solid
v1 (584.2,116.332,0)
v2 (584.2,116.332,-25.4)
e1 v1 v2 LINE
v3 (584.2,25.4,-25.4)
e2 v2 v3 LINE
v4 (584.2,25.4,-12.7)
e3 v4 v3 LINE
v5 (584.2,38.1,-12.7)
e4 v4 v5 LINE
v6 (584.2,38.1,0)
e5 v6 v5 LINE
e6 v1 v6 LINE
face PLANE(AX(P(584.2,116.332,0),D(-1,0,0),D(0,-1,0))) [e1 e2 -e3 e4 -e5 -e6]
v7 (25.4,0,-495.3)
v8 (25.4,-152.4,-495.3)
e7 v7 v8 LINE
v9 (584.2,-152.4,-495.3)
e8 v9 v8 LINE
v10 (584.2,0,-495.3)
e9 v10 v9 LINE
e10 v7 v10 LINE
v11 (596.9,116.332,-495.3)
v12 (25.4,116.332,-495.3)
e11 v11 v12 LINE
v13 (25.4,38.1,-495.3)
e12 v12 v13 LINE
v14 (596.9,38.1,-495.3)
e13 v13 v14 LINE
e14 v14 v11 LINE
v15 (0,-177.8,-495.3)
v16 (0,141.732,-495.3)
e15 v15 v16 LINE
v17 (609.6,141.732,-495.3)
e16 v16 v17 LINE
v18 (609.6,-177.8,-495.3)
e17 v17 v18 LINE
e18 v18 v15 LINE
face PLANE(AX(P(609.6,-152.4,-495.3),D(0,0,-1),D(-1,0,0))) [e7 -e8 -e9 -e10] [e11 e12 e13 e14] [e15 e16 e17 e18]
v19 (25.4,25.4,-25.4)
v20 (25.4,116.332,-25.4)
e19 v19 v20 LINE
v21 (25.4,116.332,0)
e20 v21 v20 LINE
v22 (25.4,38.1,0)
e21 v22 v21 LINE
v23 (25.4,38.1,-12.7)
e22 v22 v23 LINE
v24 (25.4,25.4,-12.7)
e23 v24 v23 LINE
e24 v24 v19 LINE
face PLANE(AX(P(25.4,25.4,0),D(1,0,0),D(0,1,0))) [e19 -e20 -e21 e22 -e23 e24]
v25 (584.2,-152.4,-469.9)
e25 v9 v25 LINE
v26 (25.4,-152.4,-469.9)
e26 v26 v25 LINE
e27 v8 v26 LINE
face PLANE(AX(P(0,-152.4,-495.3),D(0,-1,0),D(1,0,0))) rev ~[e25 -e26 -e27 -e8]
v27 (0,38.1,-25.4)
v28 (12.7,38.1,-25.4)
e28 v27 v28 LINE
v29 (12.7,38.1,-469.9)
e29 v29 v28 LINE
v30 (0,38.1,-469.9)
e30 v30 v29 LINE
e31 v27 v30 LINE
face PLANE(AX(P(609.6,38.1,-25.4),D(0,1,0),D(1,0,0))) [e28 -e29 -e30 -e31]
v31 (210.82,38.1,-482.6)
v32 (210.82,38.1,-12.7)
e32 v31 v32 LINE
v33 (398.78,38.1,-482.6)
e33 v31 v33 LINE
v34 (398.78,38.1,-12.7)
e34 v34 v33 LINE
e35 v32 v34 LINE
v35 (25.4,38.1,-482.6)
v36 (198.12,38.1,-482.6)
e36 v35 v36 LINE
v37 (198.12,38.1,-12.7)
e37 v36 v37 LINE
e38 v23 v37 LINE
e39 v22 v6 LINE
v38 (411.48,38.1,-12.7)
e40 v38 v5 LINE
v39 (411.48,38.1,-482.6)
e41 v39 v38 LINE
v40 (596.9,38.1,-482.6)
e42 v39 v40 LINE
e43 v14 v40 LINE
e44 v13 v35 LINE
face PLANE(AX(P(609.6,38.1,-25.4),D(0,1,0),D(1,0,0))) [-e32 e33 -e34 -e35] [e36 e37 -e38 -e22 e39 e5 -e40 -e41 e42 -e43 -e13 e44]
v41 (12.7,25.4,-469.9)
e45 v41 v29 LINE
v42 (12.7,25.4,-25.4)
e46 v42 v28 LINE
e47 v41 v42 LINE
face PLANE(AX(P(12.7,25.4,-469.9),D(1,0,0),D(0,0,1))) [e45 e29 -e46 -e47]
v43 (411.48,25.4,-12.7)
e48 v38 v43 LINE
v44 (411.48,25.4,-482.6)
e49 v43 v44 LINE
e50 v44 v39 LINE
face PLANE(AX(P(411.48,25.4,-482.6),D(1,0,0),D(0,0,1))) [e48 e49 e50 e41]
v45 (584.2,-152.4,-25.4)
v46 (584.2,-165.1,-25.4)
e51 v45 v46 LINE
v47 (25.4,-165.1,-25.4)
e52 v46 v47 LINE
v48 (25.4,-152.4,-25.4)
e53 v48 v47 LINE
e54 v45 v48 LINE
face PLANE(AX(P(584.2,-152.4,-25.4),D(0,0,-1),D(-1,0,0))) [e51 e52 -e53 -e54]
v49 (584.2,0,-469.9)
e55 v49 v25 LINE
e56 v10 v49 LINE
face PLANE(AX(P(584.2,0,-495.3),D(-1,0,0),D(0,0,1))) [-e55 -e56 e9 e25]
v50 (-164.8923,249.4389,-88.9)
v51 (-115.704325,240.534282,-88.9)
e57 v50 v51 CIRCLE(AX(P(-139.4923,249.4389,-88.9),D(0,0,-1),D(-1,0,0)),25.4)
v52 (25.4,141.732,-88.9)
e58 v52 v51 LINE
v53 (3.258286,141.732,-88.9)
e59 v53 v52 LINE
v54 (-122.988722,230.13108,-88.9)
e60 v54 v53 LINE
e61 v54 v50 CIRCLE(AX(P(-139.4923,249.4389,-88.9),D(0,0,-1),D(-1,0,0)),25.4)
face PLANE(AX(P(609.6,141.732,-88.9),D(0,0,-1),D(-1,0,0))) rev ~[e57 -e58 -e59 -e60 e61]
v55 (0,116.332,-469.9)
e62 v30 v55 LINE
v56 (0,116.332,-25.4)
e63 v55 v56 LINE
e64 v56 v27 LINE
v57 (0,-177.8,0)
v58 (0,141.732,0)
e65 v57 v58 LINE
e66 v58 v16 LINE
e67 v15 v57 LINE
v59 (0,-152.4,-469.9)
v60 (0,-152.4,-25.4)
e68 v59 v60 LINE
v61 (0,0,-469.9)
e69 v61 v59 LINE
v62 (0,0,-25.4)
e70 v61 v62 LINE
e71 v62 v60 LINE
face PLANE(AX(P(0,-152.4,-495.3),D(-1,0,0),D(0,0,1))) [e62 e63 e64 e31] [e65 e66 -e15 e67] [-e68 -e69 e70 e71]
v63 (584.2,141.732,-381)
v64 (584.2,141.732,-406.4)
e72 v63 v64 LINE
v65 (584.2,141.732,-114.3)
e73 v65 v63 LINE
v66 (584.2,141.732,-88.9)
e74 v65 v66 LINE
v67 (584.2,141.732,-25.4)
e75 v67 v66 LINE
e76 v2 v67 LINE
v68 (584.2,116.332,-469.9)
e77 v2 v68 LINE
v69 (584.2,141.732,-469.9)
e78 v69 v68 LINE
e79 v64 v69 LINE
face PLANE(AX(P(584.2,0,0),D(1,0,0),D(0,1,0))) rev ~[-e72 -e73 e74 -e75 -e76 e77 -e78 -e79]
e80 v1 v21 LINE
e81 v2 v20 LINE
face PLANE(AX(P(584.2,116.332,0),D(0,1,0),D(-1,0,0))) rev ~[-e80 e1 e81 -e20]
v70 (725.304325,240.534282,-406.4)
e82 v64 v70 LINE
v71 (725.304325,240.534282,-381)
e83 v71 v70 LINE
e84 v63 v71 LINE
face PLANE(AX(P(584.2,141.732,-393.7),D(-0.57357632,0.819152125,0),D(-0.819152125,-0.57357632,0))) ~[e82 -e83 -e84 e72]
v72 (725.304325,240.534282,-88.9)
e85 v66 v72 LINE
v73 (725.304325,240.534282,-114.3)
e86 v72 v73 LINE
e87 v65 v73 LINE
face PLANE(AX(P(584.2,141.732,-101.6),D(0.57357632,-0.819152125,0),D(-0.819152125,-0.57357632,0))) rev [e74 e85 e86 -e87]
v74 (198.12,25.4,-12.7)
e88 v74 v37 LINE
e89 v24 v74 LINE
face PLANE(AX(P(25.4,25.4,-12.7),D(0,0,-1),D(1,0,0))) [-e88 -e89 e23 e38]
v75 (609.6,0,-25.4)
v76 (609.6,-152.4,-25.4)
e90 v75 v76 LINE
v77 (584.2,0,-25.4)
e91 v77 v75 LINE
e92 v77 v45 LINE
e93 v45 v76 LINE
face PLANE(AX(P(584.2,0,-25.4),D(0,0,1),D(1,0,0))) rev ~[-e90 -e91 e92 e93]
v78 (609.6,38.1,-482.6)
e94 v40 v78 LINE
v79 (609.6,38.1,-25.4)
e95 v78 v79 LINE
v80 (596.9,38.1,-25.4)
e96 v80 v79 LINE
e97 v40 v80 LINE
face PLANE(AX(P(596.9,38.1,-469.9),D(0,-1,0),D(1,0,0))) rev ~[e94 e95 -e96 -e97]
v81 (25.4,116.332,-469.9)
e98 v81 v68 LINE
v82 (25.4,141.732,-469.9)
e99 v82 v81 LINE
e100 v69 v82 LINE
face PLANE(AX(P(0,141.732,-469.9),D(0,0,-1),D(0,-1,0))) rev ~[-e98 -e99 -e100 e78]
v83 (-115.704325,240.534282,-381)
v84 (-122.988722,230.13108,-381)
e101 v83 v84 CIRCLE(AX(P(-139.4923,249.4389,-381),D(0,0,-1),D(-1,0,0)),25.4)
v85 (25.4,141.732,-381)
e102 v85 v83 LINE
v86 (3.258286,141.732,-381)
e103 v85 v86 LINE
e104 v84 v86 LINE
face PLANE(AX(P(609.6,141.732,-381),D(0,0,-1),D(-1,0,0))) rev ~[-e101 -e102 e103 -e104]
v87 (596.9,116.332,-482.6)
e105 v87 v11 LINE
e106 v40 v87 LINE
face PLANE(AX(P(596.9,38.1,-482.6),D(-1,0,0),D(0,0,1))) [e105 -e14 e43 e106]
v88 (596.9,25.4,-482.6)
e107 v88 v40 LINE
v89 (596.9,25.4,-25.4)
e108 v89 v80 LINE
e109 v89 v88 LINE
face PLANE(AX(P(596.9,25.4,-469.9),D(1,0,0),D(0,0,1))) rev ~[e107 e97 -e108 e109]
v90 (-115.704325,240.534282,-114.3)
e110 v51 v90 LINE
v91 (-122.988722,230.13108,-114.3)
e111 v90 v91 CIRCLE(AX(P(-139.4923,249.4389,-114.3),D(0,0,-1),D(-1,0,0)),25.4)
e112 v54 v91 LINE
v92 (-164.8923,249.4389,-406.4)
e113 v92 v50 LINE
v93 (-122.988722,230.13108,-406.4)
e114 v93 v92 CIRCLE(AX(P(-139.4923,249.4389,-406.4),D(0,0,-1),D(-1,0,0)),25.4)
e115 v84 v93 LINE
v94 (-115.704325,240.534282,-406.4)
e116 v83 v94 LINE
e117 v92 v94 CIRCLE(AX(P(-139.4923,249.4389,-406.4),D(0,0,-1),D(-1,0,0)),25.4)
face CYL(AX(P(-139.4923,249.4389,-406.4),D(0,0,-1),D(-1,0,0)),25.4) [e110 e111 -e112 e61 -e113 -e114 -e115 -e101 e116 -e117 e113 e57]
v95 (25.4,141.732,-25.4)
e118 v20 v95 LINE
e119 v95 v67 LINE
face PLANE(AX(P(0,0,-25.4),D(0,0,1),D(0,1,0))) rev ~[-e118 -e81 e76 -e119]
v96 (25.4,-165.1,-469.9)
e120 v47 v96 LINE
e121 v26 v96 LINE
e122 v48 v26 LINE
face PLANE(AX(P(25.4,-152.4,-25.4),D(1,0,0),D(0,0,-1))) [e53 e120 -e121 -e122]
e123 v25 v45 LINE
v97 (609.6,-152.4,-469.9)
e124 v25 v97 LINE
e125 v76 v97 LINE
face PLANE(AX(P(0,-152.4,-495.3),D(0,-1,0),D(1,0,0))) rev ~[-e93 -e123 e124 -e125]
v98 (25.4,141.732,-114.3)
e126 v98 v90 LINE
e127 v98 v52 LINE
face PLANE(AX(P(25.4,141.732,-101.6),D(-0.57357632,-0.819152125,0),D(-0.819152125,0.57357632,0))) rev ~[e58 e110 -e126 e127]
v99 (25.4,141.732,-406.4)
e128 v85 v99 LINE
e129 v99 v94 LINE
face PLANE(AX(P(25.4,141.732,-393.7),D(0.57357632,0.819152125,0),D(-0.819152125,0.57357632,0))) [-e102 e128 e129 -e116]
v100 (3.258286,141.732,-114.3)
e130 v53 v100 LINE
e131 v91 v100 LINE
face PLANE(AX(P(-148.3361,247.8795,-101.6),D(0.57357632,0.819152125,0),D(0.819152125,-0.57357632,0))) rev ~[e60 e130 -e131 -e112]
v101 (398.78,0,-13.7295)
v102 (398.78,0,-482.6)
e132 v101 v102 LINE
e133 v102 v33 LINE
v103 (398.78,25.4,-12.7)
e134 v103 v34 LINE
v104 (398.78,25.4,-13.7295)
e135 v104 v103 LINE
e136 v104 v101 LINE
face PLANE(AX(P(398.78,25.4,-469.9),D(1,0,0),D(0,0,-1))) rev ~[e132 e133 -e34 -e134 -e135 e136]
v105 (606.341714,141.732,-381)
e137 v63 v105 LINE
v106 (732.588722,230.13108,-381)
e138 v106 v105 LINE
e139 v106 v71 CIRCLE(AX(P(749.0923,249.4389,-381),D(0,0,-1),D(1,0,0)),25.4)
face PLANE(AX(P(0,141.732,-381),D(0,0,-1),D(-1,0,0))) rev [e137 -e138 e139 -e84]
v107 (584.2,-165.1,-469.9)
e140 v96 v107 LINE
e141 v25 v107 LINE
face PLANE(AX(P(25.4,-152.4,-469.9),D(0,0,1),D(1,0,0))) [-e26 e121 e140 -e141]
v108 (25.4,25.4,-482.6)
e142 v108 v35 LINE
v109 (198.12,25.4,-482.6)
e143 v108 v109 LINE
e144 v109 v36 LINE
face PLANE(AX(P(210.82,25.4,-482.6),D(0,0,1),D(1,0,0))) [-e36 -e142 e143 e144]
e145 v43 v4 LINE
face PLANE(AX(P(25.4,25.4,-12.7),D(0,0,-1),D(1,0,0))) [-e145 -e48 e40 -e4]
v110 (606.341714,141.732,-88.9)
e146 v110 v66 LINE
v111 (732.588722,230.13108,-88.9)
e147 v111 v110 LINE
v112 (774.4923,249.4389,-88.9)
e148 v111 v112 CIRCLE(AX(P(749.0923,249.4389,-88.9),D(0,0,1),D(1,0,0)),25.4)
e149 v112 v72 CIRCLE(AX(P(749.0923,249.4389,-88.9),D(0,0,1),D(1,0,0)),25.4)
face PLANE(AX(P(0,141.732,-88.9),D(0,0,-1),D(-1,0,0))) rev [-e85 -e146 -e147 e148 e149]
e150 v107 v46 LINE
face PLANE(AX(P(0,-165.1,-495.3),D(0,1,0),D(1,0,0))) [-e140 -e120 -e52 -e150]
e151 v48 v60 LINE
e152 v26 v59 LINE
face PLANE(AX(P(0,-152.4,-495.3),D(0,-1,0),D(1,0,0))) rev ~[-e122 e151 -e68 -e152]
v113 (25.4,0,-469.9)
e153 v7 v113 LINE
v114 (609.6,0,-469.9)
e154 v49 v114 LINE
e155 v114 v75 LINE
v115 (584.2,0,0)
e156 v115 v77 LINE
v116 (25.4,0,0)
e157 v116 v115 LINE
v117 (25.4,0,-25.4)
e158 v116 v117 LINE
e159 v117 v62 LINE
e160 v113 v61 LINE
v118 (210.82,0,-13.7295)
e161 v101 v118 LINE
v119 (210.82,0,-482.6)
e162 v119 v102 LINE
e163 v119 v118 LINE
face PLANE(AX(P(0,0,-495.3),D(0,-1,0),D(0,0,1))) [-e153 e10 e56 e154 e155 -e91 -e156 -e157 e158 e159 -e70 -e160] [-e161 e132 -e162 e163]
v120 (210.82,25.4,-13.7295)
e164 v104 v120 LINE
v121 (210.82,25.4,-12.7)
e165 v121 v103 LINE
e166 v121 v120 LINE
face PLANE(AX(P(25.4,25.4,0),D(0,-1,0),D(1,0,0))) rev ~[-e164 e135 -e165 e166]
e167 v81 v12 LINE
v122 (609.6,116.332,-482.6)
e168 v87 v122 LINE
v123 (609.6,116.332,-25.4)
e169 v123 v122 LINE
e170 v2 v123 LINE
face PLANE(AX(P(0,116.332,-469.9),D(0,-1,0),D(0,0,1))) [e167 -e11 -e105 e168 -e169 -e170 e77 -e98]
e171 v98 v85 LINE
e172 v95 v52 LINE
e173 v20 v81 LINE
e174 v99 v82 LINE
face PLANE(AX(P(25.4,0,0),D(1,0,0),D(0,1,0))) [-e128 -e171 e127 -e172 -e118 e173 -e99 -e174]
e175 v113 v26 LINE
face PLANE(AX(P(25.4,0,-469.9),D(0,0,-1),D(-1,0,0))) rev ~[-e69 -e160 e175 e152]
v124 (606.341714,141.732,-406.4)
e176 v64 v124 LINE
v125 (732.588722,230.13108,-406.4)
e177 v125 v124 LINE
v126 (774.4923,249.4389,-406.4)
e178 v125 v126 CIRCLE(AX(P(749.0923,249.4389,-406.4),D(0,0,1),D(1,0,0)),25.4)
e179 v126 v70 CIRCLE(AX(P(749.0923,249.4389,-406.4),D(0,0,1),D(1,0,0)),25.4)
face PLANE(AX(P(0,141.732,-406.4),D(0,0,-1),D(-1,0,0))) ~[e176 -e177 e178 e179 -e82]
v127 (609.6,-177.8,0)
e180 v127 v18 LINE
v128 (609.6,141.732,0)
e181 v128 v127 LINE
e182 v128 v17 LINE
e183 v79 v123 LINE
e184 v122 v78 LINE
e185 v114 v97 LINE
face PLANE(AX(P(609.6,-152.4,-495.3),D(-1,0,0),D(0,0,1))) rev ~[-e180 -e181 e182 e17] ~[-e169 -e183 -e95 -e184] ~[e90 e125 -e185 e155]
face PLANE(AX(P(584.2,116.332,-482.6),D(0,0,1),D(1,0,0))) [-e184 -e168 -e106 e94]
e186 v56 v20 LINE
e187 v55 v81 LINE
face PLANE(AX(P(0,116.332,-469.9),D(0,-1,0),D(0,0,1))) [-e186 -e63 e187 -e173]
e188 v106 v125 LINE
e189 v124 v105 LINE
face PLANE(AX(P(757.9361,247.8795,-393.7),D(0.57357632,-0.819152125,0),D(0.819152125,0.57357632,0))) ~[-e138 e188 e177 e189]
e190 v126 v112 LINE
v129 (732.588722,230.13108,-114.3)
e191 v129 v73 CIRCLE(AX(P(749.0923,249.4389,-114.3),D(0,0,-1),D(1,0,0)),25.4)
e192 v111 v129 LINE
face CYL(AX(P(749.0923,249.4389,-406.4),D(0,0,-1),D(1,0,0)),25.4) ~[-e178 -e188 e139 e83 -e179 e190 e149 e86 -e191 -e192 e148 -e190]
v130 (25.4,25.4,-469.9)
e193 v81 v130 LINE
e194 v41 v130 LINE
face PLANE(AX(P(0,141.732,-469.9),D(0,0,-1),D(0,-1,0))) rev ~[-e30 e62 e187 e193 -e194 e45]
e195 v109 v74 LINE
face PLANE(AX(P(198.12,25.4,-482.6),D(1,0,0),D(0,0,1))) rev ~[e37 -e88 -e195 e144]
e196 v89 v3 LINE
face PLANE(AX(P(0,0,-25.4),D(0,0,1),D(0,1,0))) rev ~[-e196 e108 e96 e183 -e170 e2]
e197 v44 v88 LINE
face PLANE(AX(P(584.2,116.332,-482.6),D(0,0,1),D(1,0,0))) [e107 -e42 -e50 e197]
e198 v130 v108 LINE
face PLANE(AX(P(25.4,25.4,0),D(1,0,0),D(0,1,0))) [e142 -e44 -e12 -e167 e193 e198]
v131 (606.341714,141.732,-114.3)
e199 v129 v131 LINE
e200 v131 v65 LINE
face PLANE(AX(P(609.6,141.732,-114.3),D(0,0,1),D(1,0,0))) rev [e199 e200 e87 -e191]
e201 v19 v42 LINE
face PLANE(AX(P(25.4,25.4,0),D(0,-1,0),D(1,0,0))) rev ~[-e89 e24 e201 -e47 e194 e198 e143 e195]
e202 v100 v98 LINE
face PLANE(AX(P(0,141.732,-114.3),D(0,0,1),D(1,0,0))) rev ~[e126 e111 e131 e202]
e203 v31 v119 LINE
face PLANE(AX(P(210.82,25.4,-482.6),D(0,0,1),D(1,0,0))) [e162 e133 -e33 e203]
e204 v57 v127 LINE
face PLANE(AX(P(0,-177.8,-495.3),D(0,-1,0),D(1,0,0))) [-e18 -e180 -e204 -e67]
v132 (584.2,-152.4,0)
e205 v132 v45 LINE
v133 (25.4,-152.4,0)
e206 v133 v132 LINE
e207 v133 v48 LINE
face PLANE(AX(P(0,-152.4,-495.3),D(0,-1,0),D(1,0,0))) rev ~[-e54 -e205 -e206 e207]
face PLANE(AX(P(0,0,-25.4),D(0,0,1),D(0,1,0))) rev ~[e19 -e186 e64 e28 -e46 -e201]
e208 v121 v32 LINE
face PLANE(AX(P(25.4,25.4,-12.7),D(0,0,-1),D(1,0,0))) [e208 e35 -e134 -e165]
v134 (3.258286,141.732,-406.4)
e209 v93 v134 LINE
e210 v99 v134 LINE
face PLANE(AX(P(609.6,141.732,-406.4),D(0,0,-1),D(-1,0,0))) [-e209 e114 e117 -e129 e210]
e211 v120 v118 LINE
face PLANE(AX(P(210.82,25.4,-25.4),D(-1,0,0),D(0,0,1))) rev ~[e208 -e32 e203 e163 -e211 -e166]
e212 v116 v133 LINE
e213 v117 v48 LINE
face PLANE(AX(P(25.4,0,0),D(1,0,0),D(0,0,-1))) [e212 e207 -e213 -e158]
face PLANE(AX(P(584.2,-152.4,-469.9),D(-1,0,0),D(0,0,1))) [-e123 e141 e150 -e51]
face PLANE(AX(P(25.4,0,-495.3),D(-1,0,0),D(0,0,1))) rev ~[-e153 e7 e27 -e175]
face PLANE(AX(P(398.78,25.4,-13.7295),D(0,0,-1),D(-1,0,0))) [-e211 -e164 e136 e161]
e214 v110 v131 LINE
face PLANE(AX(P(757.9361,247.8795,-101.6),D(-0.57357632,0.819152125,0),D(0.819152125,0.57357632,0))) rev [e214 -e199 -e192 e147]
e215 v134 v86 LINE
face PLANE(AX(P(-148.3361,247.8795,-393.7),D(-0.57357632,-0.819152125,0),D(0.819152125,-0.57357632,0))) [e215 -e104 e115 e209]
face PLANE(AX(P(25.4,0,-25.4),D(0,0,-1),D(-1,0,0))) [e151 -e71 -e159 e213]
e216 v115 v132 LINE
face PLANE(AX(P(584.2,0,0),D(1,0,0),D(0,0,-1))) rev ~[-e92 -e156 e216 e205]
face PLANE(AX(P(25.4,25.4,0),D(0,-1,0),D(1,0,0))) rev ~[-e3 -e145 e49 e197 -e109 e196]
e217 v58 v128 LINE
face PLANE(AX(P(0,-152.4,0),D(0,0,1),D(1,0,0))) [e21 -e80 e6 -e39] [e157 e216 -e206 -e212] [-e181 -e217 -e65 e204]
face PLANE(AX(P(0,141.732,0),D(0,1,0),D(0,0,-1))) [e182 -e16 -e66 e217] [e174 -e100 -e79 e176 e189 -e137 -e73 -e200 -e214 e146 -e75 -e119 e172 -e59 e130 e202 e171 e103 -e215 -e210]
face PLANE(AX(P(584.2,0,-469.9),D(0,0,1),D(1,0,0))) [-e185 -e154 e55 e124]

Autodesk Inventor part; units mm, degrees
sketch "Sketch1" plane through (0, 0, 0) normal (1, 0, 0) x (0, 1, 0)
  line L0 (0, 0) -> (141.732, 0)
  line L1 (141.732, 0) -> (141.732, -495.3)
  line L2 (141.732, -495.3) -> (0, -495.3)
  line L3 (0, -495.3) -> (0, 0)
  dimension "d0" = 495.3
  dimension "d1" = 141.732
extrude "Extrusion1" add sketch "Sketch1" along normal blind 609.6
shell "Shell1" thickness 25.4 removed faces 1 at (203.2, 141.732, -165.1)
sketch "Sketch2" plane through (0, 0, 0) normal (0, 0, 1) x (1, 0, 0)
  line L0 (25.4, 25.4) -> (25.4, 141.732) projected
  line L1 (584.2, 141.732) -> (584.2, 25.4) projected
  line L2 (25.4, 25.4) -> (584.2, 25.4)
  line L3 (584.2, 25.4) -> (584.2, 116.332)
  line L4 (584.2, 116.332) -> (25.4, 116.332)
  line L5 (25.4, 116.332) -> (25.4, 25.4)
  point P0 (0, 0)
  dimension "d5" = 90.932
sketch "Sketch4" plane through (0, 0, 0) normal (-1, 0, 0) x (0, 0, 1)
  line L0 (-25.4, 141.732) -> (-25.4, 25.4) projected
  line L1 (-469.9, 25.4) -> (-469.9, 141.732) projected
  line L2 (-25.4, 25.4) -> (-469.9, 25.4)
  line L3 (-469.9, 25.4) -> (-469.9, 116.332)
  line L4 (-469.9, 116.332) -> (-25.4, 116.332)
  line L5 (-25.4, 116.332) -> (-25.4, 25.4)
  point P0 (0, 0)
  dimension "d13" = 90.932
extrude "Extrusion6" cut sketch "Sketch4" against normal through all
extrude "Extrusion7" cut sketch "Sketch2" against normal through all
sketch "Sketch9" plane through (609.6, 25.4, -25.4) normal (0, 1, 0) x (1, 0, 0)
  line L0 (-609.6, -25.4) -> (-609.6, 469.9) projected
  line L1 (-609.6, 469.9) -> (0, 469.9) projected
  line L2 (0, 469.9) -> (0, -25.4) projected
  line L3 (-609.6, -25.4) -> (0, -25.4) projected
  line L4 (-609.6, 444.5) -> (-584.2, 444.5) projected
  line L5 (-596.9, 444.5) -> (-596.9, 0)
  line L6 (-609.6, 0) -> (-584.2, 0) projected
  line L7 (-584.2, 444.5) -> (-584.2, 469.9) projected
  line L8 (-584.2, 457.2) -> (-25.4, 457.2)
  line L9 (-25.4, 444.5) -> (-25.4, 469.9) projected
  line L10 (-25.4, 444.5) -> (0, 444.5) projected
  line L11 (-12.7, 444.5) -> (-12.7, 0)
  line L12 (-25.4, 0) -> (0, 0) projected
  line L13 (-584.2, -25.4) -> (-584.2, 0) projected
  line L14 (-584.2, -12.7) -> (-25.4, -12.7)
  line L15 (-25.4, -25.4) -> (-25.4, 0) projected
  line L16 (-609.6, 444.5) -> (-584.2, 444.5) projected
  line L17 (-596.9, 444.5) -> (-609.6, 444.5)
  line L18 (-609.6, 0) -> (-596.9, 0)
  line L19 (-609.6, 0) -> (-584.2, 0) projected
  line L20 (-25.4, 457.2) -> (-25.4, 469.9)
  line L21 (-609.6, 469.9) -> (0, 469.9) projected
  line L22 (-25.4, 444.5) -> (0, 444.5) projected
  line L23 (-12.7, 444.5) -> (0, 444.5)
  line L24 (-25.4, 457.2) -> (-25.4, 469.9)
  line L25 (-25.4, 0) -> (0, 0) projected
  line L26 (-12.7, 0) -> (0, 0)
  line L27 (-25.4, -12.7) -> (-25.4, -25.4)
  line L28 (-25.4, -25.4) -> (-584.2, -25.4) projected
  line L29 (-584.2, -25.4) -> (-584.2, -12.7)
  line L30 (-609.6, 444.5) -> (-609.6, 0)
  line L31 (-609.6, 469.9) -> (-609.6, -25.4) projected
  line L32 (-584.2, -25.4) -> (-25.4, -25.4)
  line L33 (-584.2, 469.9) -> (-25.4, 469.9) projected
  line L34 (-25.4, 469.9) -> (-584.2, 469.9)
  line L35 (0, 444.5) -> (0, 0) projected
  line L36 (0, 444.5) -> (0, 0)
extrude "Extrusion14" add sketch "Sketch9" along normal blind 12.7 contours L0 L4 L5 L6 | L13 L14 L15 L3 | L0 L1 L7 L4 | L1 L9 L8 L7 | L12 L11 L10 L2 | L1 L2 L10 L9
sketch "Sketch10" plane through (0, 0, -495.3) normal (0, -1, 0) x (1, 0, 0)
  line L0 (25.4, 469.9) -> (25.4, 25.4) projected
  line L1 (0, 495.3) -> (25.4, 495.3)
  line L2 (25.4, 495.3) -> (25.4, 469.9)
  line L3 (25.4, 469.9) -> (0, 469.9)
  line L4 (0, 469.9) -> (0, 495.3)
  line L5 (25.4, 25.4) -> (0, 25.4)
  line L6 (0, 25.4) -> (0, 0)
  line L7 (0, 0) -> (25.4, 0)
  line L8 (25.4, 0) -> (25.4, 25.4)
  line L9 (609.6, 0) -> (609.6, 495.3) projected
  line L10 (609.6, 0) -> (584.2, 0)
  line L11 (584.2, 0) -> (584.2, 25.4)
  line L12 (584.2, 25.4) -> (609.6, 25.4)
  line L13 (609.6, 25.4) -> (609.6, 0)
  line L14 (584.2, 469.9) -> (25.4, 469.9) projected
  line L15 (609.6, 495.3) -> (584.2, 495.3)
  line L16 (584.2, 495.3) -> (584.2, 469.9)
  line L17 (584.2, 469.9) -> (609.6, 469.9)
  line L18 (609.6, 469.9) -> (609.6, 495.3)
  dimension "d48" = 25.4
  dimension "d49" = 25.4
  dimension "d50" = 25.4
  dimension "d51" = 25.4
  dimension "d52" = 25.4
  dimension "d53" = 25.4
  dimension "d54" = 25.4
  dimension "d55" = 25.4
extrude "Extrusion15" add sketch "Sketch10" along normal blind 152.4
sketch "Sketch11" plane through (0, -152.4, -495.3) normal (0, -1, 0) x (1, 0, 0)
  line L0 (609.6, 0) -> (609.6, 25.4) projected
  line L1 (0, 495.3) -> (609.6, 495.3)
  line L2 (609.6, 495.3) -> (609.6, 0)
  line L3 (609.6, 0) -> (0, 0)
  line L4 (0, 0) -> (0, 495.3)
extrude "Extrusion16" add sketch "Sketch11" along normal blind 25.4
sketch "Sketch12" plane through (25.4, 25.4, -12.7) normal (0, 1, 0) x (1, 0, 0)
  line L0 (185.42, 457.2) -> (185.42, 12.7)
  line L1 (373.38, 457.2) -> (373.38, 12.7)
  line L2 (373.38, 457.2) -> (373.38, 12.7)
  line L3 (185.42, 12.7) -> (185.42, 457.2)
  line L4 (373.38, 457.2) -> (373.38, 469.9)
  line L5 (185.42, 469.9) -> (185.42, 457.2)
  line L6 (185.42, 12.7) -> (185.42, 1.0295)
  line L7 (373.38, 1.0295) -> (373.38, 12.7)
  line L8 (185.42, 469.9) -> (373.38, 469.9)
  line L9 (373.38, 469.9) -> (373.38, 1.0295)
  line L10 (373.38, 1.0295) -> (185.42, 1.0295)
  line L11 (185.42, 1.0295) -> (185.42, 469.9)
  line L12 (558.8, 0) -> (0, 0) projected
  line L13 (185.42, 469.9) -> (172.72, 469.9)
  line L14 (172.72, 469.9) -> (172.72, 0)
  line L15 (172.72, 0) -> (185.42, 0)
  line L16 (185.42, 0) -> (185.42, 469.9)
  line L17 (373.38, 469.9) -> (386.08, 469.9)
  line L18 (386.08, 469.9) -> (386.08, -5.7755)
  line L19 (386.08, -5.7755) -> (373.38, -5.7755)
  line L20 (373.38, -5.7755) -> (373.38, 469.9)
  dimension "d64" = 12.7
  dimension "d65" = 12.7
extrude "Extrusion17" cut sketch "Sketch12" against normal blind 25.4 contours L5 L8 L4 L1 L7 L10 L6 L0
extrude "Extrusion18" add sketch "Sketch12" along normal blind 12.7 contours L0 L6 L16 L12 L14 L13 L5 | L17 L18 L12 L20 L7 L1 L4 | L12 L18 L19 L20
sketch "Sketch13" plane through (0, -152.4, -495.3) normal (0, 1, 0) x (1, 0, 0)
  line L0 (609.6, -495.3) -> (0, -495.3) projected
  line L1 (609.6, 0) -> (609.6, -495.3) projected
  line L2 (0, -495.3) -> (0, 0) projected
  line L3 (0, 0) -> (609.6, 0) projected
  line L4 (584.2, -25.4) -> (584.2, -469.9)
  line L5 (584.2, -469.9) -> (25.4, -469.9)
  line L6 (25.4, -469.9) -> (25.4, -25.4)
  line L7 (25.4, -25.4) -> (584.2, -25.4)
  dimension "d68" = 25.4
extrude "Extrusion19" cut sketch "Sketch13" against normal blind 12.7 contours L4 L5 L6 L7
ref_plane "Work Plane1" through (609.6, 141.732, -393.7) normal (0, 0, -1) x (-1, 0, 0)
ref_plane "Work Plane2" through (0, 141.732, -101.6) normal (0, 0, 1) x (1, 0, 0)
sketch "Sketch14" plane through (0, 141.732, -101.6) normal (0, 0, 1) x (1, 0, 0)
  line L0 (584.2, 0) -> (25.4, 0) projected
  line L1 (16.946, -12.0735) -> (25.4, 0)
  line L2 (25.4, 0) -> (228.6, 0) construction
  line L3 (25.4, 0) -> (-141.0517, 116.5507)
  line L4 (-141.0517, 116.5507) -> (-148.3361, 106.1475)
  line L5 (-148.3361, 106.1475) -> (18.1156, -10.4032)
  line L6 (18.1156, -10.4032) -> (25.4, 0)
  line L7 (25.4, 0) -> (228.6, 0) construction
  point P0 (0, -141.732)
  dimension "d75" = 203.2
  dimension "d76" = 145
  dimension "d77" = 12.7
sketch "Sketch15" plane through (609.6, 141.732, -393.7) normal (0, 0, -1) x (-1, 0, 0)
  line L0 (584.2, 0) -> (750.6517, 116.5507) projected
  line L1 (757.9361, 106.1475) -> (591.4844, -10.4032) projected
  line L2 (750.6517, 116.5507) -> (757.9361, 106.1475) projected
  line L3 (584.2, 0) -> (750.6517, 116.5507)
  line L4 (750.6517, 116.5507) -> (757.9361, 106.1475)
  line L5 (757.9361, 106.1475) -> (591.4844, -10.4032)
  line L6 (591.4844, -10.4032) -> (584.2, 0)
  point P0 (609.6, -141.732)
extrude "Extrusion20" add sketch "Sketch15" along normal mid plane 25.4
extrude "Extrusion21" add sketch "Sketch14" along normal mid plane 25.4
ref_plane "Work Plane3" through (304.8, 0, 0) normal (1, 0, 0) x (0, 0, -1)
sketch "Sketch16" plane through (609.6, 141.732, -406.4) normal (0, 0, -1) x (-1, 0, 0)
  circle A0 centre (749.0923, 107.7069) radius 25.4
  point P0 (609.6, -141.732)
  point P1 (750.6517, 116.5507)
  point P2 (757.9361, 106.1475)
extrude "Extrusion24" add sketch "Sketch16" against normal up to surface (317.5 mm away)
mirror "Mirror2" about plane through (304.8, 0, 0) normal (1, 0, 0) of "Extrusion24", "Extrusion21", "Extrusion20"
sketch "Sketch17" plane through (584.2, 116.332, -469.9) normal (0, 0, 1) x (1, 0, 0)
  line L0 (12.7, -78.232) -> (25.4, -78.232) projected
  line L1 (25.4, 0) -> (25.4, -78.232) projected
  line L2 (0, 0) -> (25.4, 0) projected
  line L3 (0, 0) -> (0, -90.932) projected
  line L4 (0, -90.932) -> (12.7, -90.932) projected
  line L5 (12.7, -90.932) -> (12.7, -78.232) projected
  point P0 (-584.2, -116.332)
extrude "Extrusion25" cut sketch "Sketch17" against normal blind 12.7
sketch "Sketch18" plane through (584.2, 38.1, -482.6) normal (-1, 0, 0) x (0, 0, 1)
  line L0 (0, 0) -> (0, 78.232) projected
  line L1 (0, 78.232) -> (-12.7, 78.232) projected
  line L2 (-12.7, 0) -> (-12.7, 78.232) projected
  line L3 (-12.7, 0) -> (0, 0) projected
  point P0 (482.6, -38.1)
extrude "Extrusion26" cut sketch "Sketch18" against normal blind 12.7
properties part number "Battery Cart"
